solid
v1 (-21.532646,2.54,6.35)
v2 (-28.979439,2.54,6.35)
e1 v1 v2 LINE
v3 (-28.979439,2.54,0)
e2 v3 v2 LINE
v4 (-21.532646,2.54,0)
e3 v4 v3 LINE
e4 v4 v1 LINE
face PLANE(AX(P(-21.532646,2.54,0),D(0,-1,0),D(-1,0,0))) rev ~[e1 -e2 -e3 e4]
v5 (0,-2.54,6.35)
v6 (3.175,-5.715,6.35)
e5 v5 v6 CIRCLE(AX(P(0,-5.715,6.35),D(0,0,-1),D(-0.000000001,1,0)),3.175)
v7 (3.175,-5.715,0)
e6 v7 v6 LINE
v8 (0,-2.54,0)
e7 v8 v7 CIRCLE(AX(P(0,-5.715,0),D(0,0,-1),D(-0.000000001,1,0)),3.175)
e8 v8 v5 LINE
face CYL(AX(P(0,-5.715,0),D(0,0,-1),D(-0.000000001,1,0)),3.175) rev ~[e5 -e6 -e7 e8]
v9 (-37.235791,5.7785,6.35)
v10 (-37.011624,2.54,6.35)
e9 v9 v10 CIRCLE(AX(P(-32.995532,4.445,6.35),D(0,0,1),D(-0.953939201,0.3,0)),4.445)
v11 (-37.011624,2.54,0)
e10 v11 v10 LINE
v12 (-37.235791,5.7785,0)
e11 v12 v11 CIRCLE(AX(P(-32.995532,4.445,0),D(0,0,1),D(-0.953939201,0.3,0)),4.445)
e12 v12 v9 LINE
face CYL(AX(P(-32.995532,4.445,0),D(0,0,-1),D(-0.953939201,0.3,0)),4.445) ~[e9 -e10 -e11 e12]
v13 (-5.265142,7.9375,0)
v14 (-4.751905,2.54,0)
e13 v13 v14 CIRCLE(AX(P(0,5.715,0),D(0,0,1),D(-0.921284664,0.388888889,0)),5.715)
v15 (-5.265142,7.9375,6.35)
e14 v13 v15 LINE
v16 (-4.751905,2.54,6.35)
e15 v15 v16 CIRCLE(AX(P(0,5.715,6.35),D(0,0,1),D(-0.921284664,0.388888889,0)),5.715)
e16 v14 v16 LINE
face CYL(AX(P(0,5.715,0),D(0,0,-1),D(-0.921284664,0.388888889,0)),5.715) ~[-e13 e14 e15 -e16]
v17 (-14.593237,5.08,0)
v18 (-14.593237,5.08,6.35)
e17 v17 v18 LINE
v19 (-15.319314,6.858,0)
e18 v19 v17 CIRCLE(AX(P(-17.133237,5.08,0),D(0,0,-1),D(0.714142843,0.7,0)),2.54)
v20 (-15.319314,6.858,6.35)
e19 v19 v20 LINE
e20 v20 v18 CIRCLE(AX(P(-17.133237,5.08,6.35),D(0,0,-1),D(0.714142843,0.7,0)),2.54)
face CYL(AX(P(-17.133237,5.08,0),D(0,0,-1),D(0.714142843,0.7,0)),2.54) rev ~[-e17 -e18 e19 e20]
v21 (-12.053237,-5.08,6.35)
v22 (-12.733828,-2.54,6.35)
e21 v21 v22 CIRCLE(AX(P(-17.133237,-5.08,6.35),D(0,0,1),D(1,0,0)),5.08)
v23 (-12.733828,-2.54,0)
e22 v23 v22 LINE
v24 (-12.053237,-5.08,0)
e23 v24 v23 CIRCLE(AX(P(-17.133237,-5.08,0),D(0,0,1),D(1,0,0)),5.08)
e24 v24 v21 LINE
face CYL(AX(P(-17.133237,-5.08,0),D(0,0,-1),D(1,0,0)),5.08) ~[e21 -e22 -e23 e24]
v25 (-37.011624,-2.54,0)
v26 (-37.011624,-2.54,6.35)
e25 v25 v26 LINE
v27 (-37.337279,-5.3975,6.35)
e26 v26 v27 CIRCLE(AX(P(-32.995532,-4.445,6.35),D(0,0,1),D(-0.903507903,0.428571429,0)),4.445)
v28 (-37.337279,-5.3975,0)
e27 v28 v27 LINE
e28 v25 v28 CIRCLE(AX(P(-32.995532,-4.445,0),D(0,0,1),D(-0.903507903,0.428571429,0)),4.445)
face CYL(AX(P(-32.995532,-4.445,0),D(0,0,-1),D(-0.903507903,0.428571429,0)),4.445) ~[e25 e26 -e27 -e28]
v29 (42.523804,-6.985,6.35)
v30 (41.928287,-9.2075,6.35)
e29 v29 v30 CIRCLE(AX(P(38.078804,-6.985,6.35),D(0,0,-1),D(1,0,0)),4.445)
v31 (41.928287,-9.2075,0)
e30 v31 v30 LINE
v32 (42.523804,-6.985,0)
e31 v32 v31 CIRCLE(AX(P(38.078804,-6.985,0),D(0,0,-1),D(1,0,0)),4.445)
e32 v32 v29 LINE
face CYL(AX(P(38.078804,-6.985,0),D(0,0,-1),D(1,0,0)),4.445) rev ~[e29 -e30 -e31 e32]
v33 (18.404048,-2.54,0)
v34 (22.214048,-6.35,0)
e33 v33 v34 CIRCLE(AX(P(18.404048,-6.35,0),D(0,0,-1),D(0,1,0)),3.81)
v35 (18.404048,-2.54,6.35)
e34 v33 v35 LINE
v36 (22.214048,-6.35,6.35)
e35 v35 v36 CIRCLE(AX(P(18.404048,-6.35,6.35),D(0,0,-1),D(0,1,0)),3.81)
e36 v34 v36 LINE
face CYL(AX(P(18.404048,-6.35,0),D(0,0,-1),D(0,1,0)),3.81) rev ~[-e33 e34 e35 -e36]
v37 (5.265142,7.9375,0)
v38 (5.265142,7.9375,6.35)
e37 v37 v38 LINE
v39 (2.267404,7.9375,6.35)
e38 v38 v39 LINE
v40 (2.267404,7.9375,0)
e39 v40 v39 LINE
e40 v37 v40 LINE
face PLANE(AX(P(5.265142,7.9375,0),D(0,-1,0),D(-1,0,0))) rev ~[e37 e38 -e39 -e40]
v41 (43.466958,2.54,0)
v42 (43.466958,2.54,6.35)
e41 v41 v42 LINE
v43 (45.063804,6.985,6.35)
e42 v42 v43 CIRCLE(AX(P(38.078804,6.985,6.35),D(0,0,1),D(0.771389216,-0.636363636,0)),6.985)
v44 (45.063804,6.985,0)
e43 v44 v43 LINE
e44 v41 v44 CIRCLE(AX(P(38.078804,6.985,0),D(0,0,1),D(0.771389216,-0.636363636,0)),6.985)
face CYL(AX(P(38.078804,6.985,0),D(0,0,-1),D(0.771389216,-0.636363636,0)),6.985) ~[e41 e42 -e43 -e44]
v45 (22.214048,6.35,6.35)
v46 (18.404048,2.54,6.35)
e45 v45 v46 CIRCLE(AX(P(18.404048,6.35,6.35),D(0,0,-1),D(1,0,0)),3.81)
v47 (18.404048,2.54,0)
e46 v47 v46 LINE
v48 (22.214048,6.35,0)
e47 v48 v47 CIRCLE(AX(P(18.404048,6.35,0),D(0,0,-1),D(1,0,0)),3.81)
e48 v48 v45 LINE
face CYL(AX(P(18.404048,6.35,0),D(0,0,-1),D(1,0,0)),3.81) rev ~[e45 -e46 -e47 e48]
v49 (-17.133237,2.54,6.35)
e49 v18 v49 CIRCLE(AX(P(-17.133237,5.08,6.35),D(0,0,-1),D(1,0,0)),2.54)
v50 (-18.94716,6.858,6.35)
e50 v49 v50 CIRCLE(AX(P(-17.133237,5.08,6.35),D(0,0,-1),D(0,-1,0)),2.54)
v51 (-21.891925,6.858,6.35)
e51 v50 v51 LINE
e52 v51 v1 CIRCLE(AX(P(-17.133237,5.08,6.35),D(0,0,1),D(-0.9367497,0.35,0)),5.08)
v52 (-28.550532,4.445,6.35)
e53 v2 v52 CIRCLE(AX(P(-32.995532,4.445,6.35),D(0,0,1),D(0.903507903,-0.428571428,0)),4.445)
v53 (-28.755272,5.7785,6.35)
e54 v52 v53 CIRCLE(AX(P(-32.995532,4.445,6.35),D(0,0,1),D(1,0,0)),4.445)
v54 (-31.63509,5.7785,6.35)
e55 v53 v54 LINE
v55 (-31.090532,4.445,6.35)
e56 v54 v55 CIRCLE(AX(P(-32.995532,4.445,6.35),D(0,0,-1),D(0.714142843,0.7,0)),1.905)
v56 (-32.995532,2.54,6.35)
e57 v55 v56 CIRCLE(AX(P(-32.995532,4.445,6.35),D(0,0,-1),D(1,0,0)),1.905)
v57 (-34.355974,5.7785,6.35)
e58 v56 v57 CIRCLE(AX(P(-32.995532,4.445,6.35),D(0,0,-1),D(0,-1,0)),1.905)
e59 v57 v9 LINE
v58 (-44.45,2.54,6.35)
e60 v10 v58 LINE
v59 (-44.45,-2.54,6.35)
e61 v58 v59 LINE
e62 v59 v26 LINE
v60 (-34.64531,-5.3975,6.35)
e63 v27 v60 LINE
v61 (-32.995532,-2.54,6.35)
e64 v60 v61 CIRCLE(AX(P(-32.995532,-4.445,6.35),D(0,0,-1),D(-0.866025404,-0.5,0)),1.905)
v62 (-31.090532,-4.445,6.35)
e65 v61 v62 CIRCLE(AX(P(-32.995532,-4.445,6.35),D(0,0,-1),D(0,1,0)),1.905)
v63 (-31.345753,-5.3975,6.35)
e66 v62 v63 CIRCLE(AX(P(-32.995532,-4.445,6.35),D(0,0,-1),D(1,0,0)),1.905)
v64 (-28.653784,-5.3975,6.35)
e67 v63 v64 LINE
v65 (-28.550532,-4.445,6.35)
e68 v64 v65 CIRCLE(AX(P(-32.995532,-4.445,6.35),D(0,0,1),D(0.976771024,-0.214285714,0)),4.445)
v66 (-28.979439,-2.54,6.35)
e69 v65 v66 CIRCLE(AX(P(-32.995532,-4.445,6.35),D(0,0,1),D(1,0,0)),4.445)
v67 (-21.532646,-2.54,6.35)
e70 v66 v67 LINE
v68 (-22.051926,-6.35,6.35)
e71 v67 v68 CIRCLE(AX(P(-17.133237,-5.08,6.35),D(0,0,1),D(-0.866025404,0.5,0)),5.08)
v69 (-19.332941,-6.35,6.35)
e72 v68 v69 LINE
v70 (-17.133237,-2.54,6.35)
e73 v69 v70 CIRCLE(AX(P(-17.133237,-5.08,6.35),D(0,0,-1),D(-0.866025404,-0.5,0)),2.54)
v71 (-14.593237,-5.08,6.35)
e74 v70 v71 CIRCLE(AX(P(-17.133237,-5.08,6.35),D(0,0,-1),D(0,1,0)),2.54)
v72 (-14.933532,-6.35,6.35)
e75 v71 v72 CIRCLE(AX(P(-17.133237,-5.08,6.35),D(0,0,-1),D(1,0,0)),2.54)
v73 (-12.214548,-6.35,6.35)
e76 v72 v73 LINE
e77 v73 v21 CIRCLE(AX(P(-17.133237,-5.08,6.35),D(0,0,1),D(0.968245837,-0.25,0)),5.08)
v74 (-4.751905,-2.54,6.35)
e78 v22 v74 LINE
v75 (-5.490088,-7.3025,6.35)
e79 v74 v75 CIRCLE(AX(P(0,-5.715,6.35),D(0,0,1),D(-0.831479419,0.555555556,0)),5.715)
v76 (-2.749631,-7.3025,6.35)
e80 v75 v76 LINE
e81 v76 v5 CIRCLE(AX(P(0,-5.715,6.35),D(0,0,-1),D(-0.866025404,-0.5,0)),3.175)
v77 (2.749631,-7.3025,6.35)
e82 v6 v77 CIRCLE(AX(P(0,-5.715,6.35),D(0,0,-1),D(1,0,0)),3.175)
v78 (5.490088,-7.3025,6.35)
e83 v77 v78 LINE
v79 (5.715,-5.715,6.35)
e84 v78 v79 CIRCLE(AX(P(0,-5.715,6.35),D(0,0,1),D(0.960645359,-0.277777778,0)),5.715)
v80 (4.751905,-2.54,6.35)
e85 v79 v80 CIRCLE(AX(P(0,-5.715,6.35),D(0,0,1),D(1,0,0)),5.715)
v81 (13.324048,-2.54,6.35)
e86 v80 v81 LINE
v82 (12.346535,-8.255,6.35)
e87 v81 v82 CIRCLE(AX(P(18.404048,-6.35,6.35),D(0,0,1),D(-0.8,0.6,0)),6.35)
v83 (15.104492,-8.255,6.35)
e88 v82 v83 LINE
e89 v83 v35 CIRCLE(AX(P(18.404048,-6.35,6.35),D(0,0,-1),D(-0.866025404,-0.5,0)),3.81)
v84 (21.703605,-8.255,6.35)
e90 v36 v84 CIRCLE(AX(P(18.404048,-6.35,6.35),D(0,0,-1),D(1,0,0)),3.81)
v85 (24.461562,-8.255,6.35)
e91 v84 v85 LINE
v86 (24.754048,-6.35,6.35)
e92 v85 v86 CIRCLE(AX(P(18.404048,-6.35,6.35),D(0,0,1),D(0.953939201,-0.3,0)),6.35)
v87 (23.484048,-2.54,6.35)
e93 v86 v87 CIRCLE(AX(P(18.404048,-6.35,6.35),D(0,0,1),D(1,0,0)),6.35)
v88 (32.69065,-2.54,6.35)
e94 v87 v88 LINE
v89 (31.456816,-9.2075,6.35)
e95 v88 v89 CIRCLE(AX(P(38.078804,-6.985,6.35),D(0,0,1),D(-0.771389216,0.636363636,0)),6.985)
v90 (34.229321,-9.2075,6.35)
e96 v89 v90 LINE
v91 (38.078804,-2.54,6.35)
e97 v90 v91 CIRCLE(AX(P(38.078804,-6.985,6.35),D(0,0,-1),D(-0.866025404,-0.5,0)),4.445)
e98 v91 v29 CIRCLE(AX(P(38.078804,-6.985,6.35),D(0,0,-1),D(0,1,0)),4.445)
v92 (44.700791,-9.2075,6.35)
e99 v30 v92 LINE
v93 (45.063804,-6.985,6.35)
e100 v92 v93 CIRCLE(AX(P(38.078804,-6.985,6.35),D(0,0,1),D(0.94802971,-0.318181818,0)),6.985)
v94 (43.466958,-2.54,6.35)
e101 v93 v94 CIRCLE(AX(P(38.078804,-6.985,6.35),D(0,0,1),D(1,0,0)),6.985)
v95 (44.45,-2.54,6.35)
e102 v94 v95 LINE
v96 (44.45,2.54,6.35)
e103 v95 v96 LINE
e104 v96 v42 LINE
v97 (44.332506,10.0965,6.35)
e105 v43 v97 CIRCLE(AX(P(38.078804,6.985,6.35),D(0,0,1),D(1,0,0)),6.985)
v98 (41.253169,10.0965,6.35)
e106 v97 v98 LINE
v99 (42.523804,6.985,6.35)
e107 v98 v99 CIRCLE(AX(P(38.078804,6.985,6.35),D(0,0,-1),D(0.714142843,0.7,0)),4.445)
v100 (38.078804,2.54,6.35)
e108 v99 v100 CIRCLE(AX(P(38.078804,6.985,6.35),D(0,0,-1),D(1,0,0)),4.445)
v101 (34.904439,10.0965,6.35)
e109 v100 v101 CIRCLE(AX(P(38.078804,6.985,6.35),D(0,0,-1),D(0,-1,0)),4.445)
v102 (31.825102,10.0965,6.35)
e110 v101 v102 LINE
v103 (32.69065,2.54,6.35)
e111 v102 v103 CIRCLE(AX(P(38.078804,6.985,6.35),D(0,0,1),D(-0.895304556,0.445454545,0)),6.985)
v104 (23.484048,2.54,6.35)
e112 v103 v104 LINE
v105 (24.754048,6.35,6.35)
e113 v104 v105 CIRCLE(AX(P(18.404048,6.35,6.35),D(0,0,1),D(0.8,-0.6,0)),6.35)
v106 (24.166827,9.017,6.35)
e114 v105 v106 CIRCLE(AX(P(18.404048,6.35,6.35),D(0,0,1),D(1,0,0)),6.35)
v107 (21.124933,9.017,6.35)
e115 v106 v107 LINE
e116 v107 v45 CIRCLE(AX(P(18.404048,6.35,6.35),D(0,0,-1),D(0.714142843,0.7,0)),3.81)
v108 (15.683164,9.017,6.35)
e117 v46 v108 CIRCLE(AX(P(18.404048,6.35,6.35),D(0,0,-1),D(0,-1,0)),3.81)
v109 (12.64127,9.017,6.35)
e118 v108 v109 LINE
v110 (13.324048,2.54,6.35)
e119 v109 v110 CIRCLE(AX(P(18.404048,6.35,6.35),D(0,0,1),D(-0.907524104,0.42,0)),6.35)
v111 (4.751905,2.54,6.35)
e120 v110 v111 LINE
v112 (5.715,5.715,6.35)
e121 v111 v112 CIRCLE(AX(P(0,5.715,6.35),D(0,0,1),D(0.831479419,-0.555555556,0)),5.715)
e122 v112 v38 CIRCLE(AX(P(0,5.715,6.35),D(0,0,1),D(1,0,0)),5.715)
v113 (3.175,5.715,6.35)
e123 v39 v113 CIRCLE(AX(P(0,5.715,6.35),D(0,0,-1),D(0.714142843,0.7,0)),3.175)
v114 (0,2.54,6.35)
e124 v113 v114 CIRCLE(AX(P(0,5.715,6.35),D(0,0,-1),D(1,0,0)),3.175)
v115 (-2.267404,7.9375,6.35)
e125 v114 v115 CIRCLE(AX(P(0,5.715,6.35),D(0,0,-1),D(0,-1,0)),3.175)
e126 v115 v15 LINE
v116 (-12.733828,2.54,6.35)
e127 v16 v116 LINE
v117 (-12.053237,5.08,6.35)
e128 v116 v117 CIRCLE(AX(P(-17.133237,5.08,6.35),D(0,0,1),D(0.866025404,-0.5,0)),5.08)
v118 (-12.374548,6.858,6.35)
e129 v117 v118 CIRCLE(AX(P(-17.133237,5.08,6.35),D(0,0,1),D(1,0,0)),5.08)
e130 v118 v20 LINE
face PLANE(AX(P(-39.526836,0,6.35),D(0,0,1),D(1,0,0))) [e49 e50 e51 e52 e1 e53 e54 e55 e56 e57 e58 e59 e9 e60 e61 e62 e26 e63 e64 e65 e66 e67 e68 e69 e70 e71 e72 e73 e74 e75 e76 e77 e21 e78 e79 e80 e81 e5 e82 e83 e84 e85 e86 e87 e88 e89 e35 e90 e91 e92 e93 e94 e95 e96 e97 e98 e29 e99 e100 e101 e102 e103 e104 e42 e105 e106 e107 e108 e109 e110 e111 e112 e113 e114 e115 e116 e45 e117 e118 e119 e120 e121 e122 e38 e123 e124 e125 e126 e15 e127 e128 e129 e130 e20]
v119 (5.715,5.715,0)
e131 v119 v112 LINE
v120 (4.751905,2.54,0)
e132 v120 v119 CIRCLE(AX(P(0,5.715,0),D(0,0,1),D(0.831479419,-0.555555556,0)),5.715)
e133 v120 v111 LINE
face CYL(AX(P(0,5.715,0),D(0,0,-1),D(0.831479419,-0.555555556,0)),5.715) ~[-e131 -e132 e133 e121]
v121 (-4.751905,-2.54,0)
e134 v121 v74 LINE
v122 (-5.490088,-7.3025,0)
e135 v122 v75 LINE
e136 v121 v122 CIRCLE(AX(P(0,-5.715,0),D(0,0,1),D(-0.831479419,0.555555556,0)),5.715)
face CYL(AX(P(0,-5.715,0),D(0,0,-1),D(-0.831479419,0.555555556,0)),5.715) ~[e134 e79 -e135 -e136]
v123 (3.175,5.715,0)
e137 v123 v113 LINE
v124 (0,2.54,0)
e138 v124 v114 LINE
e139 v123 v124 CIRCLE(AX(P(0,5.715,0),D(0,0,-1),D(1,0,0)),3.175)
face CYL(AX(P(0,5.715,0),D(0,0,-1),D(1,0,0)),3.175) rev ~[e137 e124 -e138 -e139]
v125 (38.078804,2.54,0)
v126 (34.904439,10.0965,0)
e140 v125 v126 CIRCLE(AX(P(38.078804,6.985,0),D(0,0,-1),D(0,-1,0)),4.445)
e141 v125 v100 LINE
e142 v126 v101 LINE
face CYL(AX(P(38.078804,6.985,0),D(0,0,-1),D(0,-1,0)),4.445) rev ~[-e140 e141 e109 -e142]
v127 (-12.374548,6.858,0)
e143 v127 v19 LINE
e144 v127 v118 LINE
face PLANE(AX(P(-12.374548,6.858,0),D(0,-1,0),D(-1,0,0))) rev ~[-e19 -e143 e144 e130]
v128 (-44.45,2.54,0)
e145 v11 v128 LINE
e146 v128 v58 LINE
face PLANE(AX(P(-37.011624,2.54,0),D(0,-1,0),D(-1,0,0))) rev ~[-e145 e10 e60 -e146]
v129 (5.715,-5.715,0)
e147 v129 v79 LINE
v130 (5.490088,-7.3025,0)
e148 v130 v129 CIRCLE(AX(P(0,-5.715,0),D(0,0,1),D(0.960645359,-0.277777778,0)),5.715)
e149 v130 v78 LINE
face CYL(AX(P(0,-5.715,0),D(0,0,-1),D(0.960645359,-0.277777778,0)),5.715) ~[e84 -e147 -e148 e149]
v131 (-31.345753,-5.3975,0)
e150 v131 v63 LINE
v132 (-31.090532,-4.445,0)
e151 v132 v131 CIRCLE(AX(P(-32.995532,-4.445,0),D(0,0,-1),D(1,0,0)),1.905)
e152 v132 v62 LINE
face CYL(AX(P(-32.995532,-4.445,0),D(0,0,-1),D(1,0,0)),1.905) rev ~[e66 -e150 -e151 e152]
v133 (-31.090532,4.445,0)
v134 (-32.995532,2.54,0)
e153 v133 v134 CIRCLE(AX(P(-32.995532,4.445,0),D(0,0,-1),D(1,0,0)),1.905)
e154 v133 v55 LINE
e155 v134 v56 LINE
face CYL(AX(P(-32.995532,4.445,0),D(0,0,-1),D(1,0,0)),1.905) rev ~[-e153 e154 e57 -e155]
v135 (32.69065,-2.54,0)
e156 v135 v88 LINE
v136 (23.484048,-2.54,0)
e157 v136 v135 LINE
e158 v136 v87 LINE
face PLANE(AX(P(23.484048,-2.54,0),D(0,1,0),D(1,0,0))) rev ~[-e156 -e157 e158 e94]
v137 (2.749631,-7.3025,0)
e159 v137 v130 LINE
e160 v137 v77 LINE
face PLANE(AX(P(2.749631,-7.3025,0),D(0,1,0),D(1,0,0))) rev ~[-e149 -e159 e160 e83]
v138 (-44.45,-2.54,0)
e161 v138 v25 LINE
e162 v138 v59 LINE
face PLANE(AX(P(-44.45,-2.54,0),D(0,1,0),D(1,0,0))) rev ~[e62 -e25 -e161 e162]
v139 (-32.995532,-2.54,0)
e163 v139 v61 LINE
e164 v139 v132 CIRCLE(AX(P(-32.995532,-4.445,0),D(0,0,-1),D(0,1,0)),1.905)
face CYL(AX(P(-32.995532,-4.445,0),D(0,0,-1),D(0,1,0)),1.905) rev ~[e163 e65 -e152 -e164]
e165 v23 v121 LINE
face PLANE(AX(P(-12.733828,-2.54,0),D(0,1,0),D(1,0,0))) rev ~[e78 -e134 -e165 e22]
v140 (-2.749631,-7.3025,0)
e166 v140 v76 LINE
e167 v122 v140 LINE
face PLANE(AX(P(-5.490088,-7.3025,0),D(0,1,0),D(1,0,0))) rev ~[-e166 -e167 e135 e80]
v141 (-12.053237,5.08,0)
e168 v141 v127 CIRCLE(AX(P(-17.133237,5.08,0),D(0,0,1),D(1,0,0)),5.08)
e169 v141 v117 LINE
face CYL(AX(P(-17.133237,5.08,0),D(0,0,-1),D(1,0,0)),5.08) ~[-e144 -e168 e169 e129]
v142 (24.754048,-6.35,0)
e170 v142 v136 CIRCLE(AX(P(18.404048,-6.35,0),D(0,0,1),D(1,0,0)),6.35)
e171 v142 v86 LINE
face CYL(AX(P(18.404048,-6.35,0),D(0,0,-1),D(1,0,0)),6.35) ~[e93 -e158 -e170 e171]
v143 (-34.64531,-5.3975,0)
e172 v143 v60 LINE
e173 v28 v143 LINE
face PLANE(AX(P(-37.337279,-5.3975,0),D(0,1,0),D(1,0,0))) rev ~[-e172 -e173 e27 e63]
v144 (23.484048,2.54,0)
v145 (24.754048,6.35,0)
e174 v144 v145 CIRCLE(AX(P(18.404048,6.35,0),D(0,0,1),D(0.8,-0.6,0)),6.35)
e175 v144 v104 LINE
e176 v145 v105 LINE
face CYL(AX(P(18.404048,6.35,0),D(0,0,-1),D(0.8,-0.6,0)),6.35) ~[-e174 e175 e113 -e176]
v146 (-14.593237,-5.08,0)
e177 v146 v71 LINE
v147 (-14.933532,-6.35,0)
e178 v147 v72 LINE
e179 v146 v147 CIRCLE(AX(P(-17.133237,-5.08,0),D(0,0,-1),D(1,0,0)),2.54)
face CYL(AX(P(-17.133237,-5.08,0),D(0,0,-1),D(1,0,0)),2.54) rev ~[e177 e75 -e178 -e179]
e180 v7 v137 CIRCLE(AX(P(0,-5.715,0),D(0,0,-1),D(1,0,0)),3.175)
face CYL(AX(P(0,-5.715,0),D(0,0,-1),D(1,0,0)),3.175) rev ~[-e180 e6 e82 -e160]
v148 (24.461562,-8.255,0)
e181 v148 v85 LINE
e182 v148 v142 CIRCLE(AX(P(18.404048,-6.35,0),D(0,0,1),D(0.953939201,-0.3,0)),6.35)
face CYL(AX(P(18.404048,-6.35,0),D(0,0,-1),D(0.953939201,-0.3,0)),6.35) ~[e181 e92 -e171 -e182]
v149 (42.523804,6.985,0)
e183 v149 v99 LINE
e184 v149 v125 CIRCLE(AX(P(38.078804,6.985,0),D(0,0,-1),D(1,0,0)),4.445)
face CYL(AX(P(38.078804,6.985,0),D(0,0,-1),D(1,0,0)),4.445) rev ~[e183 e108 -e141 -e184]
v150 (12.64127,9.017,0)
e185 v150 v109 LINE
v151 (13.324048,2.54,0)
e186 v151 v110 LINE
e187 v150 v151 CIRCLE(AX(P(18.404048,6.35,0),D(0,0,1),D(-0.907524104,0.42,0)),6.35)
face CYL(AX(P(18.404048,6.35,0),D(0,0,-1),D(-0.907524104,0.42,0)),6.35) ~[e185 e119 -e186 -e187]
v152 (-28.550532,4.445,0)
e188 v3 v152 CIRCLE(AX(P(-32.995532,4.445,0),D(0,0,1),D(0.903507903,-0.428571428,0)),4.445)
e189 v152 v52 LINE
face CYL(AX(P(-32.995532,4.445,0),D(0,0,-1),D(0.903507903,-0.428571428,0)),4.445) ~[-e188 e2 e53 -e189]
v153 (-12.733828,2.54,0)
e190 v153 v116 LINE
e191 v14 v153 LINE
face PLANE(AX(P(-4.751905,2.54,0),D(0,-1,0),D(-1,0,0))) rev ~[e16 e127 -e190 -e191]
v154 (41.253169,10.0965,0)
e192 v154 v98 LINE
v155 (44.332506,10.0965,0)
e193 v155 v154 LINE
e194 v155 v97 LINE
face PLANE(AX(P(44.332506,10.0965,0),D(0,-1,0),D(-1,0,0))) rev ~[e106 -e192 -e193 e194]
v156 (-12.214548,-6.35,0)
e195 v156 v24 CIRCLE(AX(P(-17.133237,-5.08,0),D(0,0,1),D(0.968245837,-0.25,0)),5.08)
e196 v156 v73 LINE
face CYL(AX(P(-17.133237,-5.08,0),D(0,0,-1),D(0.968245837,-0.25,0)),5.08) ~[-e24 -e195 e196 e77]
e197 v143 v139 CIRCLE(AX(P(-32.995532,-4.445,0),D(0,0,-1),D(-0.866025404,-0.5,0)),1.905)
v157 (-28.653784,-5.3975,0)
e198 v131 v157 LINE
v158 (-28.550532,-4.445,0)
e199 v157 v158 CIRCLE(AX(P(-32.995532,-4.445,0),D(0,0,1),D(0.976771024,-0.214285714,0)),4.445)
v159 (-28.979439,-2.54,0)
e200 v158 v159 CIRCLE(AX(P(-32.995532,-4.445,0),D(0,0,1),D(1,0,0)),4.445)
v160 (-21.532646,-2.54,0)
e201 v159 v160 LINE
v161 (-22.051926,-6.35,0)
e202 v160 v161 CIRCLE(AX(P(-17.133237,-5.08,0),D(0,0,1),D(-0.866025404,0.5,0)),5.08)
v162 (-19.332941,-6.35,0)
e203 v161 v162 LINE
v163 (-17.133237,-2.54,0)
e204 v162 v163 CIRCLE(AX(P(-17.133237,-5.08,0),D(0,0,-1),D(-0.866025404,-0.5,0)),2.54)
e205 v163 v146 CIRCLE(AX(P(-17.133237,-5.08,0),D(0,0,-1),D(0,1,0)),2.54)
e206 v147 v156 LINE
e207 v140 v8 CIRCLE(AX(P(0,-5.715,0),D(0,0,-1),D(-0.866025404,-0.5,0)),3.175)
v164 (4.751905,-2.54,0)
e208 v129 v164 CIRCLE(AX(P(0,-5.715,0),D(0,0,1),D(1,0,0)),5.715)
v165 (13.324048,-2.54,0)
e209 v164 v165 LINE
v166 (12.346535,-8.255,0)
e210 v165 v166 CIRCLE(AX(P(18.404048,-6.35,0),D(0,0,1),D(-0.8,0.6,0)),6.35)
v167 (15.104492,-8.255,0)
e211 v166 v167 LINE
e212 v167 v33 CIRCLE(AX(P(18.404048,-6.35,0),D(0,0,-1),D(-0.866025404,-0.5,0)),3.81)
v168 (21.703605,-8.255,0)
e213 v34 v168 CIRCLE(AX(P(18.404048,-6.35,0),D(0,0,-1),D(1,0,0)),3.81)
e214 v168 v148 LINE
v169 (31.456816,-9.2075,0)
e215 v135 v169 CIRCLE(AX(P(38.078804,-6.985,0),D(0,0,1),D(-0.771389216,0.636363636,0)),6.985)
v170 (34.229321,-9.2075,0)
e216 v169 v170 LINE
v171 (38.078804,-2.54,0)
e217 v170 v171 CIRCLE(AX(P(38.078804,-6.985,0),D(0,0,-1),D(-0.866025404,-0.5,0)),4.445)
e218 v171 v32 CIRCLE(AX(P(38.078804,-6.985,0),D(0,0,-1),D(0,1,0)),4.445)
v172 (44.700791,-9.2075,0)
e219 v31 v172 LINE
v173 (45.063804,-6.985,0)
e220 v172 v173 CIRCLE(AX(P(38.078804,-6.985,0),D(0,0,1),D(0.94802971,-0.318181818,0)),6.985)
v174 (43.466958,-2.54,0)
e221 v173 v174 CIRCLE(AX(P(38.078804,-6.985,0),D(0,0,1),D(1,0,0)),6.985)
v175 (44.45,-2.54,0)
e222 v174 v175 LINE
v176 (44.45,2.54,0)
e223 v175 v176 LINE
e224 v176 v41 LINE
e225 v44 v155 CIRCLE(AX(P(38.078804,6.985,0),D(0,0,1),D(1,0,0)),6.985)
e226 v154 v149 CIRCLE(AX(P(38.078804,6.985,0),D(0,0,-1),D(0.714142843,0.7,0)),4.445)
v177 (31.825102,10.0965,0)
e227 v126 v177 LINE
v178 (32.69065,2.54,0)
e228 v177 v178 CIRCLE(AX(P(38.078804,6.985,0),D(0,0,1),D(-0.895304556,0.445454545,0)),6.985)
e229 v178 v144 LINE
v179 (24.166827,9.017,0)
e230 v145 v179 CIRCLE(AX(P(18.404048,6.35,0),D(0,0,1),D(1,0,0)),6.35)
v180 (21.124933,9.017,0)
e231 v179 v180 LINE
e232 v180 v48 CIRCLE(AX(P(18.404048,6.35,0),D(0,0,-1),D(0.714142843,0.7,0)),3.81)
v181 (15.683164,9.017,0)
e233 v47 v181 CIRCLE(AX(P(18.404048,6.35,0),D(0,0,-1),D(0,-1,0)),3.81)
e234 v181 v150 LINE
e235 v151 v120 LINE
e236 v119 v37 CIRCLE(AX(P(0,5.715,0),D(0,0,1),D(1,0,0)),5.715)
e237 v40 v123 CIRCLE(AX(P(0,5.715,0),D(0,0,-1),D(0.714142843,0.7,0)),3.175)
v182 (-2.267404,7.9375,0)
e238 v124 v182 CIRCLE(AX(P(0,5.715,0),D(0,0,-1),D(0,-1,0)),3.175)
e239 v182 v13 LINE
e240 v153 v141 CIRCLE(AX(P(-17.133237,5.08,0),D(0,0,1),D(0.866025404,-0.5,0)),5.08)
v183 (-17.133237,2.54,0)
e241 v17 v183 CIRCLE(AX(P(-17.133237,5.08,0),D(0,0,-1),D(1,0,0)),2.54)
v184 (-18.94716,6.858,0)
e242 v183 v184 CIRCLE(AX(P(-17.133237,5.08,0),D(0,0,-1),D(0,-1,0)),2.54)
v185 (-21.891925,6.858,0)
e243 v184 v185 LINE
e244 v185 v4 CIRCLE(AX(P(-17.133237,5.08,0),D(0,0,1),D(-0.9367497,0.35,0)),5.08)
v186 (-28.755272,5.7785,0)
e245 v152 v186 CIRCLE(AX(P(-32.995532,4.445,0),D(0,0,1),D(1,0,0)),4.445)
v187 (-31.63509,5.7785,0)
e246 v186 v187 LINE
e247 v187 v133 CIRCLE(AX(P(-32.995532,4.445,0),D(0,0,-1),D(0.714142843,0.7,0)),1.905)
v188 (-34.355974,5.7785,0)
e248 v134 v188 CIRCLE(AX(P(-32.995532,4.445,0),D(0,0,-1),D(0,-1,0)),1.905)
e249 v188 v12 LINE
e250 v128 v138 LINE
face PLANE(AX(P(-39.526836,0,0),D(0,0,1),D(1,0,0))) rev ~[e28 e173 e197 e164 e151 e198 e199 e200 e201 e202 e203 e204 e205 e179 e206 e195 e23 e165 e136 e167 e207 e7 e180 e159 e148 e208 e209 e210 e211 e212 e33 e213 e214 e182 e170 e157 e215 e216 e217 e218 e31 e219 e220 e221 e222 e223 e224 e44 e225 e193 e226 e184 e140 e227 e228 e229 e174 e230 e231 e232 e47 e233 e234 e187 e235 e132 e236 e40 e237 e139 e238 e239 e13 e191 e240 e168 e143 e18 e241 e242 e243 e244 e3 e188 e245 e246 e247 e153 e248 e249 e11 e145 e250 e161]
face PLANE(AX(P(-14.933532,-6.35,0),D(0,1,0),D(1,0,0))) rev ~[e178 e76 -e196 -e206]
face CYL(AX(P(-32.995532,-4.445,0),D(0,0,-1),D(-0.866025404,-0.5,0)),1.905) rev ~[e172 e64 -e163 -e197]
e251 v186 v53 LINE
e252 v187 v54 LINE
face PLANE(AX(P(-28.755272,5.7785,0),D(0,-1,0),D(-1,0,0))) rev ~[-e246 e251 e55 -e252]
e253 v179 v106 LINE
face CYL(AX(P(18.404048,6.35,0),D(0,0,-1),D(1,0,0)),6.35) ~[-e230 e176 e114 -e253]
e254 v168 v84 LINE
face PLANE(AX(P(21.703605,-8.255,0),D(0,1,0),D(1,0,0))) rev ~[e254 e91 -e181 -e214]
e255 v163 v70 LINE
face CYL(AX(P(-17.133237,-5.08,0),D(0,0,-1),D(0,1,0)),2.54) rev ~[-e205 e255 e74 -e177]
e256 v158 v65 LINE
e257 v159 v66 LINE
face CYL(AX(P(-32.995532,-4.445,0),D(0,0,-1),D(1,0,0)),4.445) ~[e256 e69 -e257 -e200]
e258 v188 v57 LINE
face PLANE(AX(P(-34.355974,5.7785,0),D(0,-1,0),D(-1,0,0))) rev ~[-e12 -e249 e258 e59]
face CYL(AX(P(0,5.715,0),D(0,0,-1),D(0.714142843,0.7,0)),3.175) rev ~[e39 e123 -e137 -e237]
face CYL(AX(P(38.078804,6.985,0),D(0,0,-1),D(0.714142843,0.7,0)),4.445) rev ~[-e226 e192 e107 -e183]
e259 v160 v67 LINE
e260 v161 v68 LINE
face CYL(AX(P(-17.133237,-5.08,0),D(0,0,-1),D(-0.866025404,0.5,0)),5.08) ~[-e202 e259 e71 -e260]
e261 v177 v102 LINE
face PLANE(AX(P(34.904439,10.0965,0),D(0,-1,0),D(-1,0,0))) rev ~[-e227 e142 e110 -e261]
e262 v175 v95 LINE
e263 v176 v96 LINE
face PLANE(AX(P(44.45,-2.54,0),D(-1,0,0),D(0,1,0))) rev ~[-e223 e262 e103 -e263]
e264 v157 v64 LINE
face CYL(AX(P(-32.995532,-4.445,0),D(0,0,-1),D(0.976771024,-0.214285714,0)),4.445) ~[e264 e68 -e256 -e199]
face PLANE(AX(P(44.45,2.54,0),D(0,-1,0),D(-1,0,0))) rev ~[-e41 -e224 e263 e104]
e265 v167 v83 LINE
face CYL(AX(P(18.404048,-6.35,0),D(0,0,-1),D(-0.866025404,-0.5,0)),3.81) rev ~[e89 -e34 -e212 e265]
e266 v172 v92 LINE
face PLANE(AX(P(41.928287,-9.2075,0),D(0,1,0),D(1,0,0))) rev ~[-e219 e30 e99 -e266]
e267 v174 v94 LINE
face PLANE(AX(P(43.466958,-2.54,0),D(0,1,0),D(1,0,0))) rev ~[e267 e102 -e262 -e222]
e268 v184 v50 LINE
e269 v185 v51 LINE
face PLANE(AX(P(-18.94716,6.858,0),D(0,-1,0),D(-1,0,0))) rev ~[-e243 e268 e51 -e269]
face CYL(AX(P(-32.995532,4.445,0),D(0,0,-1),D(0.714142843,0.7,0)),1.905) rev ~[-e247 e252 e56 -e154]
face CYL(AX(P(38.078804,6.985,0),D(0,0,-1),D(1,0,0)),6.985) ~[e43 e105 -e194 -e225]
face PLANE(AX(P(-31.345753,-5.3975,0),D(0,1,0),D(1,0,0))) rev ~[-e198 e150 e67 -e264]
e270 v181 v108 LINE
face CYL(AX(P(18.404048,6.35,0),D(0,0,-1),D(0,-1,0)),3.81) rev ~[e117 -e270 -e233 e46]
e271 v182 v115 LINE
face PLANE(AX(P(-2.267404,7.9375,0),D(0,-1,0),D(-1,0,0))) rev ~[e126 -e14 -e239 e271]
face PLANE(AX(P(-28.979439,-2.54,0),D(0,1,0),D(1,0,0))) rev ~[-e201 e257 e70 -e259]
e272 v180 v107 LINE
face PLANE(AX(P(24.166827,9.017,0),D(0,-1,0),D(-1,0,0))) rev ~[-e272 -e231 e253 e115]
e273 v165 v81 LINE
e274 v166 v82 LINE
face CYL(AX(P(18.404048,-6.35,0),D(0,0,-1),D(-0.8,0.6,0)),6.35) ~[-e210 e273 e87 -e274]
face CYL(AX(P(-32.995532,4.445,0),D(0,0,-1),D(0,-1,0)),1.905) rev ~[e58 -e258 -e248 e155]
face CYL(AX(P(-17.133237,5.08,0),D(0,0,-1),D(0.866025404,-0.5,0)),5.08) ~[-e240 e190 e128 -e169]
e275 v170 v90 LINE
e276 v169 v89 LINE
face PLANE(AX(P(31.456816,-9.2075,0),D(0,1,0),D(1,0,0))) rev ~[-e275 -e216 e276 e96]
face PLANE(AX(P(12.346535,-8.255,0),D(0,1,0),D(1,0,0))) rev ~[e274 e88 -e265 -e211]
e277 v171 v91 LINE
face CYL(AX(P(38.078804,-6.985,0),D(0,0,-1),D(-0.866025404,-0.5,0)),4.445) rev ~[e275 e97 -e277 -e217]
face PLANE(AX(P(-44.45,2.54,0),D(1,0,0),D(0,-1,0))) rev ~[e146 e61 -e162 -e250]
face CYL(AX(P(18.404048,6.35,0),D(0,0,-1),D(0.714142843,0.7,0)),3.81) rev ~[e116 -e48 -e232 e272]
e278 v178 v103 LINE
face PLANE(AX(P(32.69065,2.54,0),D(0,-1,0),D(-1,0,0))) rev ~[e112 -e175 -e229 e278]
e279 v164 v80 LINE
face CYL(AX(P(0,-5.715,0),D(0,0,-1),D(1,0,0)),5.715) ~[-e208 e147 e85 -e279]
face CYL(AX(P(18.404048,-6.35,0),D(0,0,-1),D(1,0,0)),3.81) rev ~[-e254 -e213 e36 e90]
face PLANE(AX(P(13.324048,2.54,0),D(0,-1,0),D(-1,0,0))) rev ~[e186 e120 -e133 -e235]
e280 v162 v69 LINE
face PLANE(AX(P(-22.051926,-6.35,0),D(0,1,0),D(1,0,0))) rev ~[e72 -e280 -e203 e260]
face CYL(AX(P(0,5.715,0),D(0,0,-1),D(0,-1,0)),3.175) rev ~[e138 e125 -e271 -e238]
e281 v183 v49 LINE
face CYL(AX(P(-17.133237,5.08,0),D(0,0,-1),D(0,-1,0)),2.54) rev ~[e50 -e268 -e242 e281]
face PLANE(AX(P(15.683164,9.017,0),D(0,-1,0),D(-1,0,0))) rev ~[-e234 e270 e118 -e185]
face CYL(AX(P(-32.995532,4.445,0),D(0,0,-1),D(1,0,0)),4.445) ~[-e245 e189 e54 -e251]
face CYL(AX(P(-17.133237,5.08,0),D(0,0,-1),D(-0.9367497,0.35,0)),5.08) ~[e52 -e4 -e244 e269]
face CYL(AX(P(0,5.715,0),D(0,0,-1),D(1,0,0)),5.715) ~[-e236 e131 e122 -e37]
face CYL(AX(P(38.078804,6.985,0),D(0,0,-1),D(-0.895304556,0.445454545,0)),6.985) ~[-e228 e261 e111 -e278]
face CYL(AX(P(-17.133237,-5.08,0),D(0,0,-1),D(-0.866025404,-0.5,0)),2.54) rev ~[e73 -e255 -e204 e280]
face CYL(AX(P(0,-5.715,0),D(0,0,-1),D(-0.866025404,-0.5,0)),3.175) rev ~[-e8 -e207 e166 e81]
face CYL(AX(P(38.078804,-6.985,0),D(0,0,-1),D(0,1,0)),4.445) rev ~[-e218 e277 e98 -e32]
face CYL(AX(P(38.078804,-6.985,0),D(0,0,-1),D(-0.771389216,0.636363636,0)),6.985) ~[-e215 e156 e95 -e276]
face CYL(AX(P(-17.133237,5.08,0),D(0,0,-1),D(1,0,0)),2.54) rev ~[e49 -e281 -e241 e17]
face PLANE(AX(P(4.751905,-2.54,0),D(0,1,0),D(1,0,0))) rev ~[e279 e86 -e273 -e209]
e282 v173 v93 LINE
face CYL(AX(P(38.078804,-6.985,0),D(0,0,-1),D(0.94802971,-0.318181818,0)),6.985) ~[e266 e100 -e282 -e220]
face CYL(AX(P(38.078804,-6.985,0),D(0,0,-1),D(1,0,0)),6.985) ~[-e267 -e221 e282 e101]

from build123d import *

# Parameters (mm, degrees)
F1_DEPTH = 6.35


with BuildPart() as f1:
    # F0 (on Top) → F1 (new body)
    with BuildSketch(Plane.XY):
        with BuildLine():
            ThreePointArc((-37.0116242497, -2.54), (-35.3714840618, -0.6882893377), (-32.9955316212, 0))
            ThreePointArc((-32.9955316212, 0), (-35.3714840618, 0.6882893377), (-37.0116242497, 2.54))
            Line((-37.0116242497, 2.54), (-44.45, 2.54))
            Line((-44.45, 2.54), (-44.45, -2.54))
            Line((-44.45, -2.54), (-37.0116242497, -2.54))
        make_face()
        with BuildLine():
            Line((-32.9955316212, 2.54), (-28.9794389928, 2.54))
            ThreePointArc((-28.9794389928, 2.54), (-28.6590839545, 3.4686564983), (-28.5505316212, 4.445))
            ThreePointArc((-28.5505316212, 4.445), (-28.60201483, 5.1195629733), (-28.7552718709, 5.7785))
            Line((-28.7552718709, 5.7785), (-31.6350895056, 5.7785))
            ThreePointArc((-31.6350895056, 5.7785), (-31.231917827, 5.1652023222), (-31.0905316212, 4.445))
            ThreePointArc((-31.0905316212, 4.445), (-31.6484932031, 3.0979615818), (-32.9955316212, 2.54))
        make_face()
        with BuildLine():
            Line((-37.0116242497, 2.54), (-32.9955316212, 2.54))
            ThreePointArc((-32.9955316212, 2.54), (-34.7518548404, 3.7071966725), (-34.3559737369, 5.7785))
            Line((-34.3559737369, 5.7785), (-37.2357913715, 5.7785))
            ThreePointArc((-37.2357913715, 5.7785), (-37.4299210057, 4.1380540974), (-37.0116242497, 2.54))
        make_face()
        with BuildLine():
            ThreePointArc((-32.9955316212, 0), (-30.6195791806, 0.6882893377), (-28.9794389928, 2.54))
            Line((-28.9794389928, 2.54), (-32.9955316212, 2.54))
            Line((-32.9955316212, 2.54), (-37.0116242497, 2.54))
            ThreePointArc((-37.0116242497, 2.54), (-35.3714840618, 0.6882893377), (-32.9955316212, 0))
        make_face()
        with BuildLine():
            Line((-32.9955316212, -2.54), (-28.9794389928, -2.54))
            ThreePointArc((-28.9794389928, -2.54), (-30.6195791806, -0.6882893377), (-32.9955316212, 0))
            ThreePointArc((-32.9955316212, 0), (-35.3714840618, -0.6882893377), (-37.0116242497, -2.54))
            Line((-37.0116242497, -2.54), (-32.9955316212, -2.54))
        make_face()
        with BuildLine():
            ThreePointArc((-34.6453100154, -5.3975), (-34.6453100154, -3.4925), (-32.9955316212, -2.54))
            Line((-32.9955316212, -2.54), (-37.0116242497, -2.54))
            ThreePointArc((-37.0116242497, -2.54), (-37.4119439902, -3.941684207), (-37.3372788214, -5.3975))
            Line((-37.3372788214, -5.3975), (-34.6453100154, -5.3975))
        make_face()
        with BuildLine():
            ThreePointArc((-28.5505316212, -4.445), (-28.6590839545, -3.4686564983), (-28.9794389928, -2.54))
            Line((-28.9794389928, -2.54), (-32.9955316212, -2.54))
            ThreePointArc((-32.9955316212, -2.54), (-31.6484932031, -3.0979615818), (-31.0905316212, -4.445))
            ThreePointArc((-31.0905316212, -4.445), (-31.1554429222, -4.9380502809), (-31.345753227, -5.3975))
            Line((-31.345753227, -5.3975), (-28.6537844211, -5.3975))
            ThreePointArc((-28.6537844211, -5.3975), (-28.5764202114, -4.9240400272), (-28.5505316212, -4.445))
        make_face()
        with BuildLine():
            ThreePointArc((-21.5326457565, -2.54), (-19.6732367053, -0.6805909488), (-17.1332367053, 0))
            ThreePointArc((-17.1332367053, 0), (-19.6732367053, 0.6805909488), (-21.5326457565, 2.54))
            Line((-21.5326457565, 2.54), (-28.9794389928, 2.54))
            ThreePointArc((-28.9794389928, 2.54), (-30.6195791806, 0.6882893377), (-32.9955316212, 0))
            ThreePointArc((-32.9955316212, 0), (-30.6195791806, -0.6882893377), (-28.9794389928, -2.54))
            Line((-28.9794389928, -2.54), (-21.5326457565, -2.54))
        make_face()
        with BuildLine():
            ThreePointArc((-19.3329412309, -6.35), (-19.3329412309, -3.81), (-17.1332367053, -2.54))
            Line((-17.1332367053, -2.54), (-21.5326457565, -2.54))
            ThreePointArc((-21.5326457565, -2.54), (-22.1667009321, -4.3939694779), (-22.051925555, -6.35))
            Line((-22.051925555, -6.35), (-19.3329412309, -6.35))
        make_face()
        with BuildLine():
            ThreePointArc((-12.0532367053, -5.08), (-12.2263335078, -3.7651992509), (-12.7338276541, -2.54))
            Line((-12.7338276541, -2.54), (-17.1332367053, -2.54))
            ThreePointArc((-17.1332367053, -2.54), (-15.3371854811, -3.2839487758), (-14.5932367053, -5.08))
            ThreePointArc((-14.5932367053, -5.08), (-14.6797851065, -5.7374003746), (-14.9335321797, -6.35))
            Line((-14.9335321797, -6.35), (-12.2145478556, -6.35))
            ThreePointArc((-12.2145478556, -6.35), (-12.0937258483, -5.7201018058), (-12.0532367053, -5.08))
        make_face()
        with BuildLine():
            Line((-17.1332367053, -2.54), (-12.7338276541, -2.54))
            ThreePointArc((-12.7338276541, -2.54), (-14.5932367053, -0.6805909488), (-17.1332367053, 0))
            ThreePointArc((-17.1332367053, 0), (-19.6732367053, -0.6805909488), (-21.5326457565, -2.54))
            Line((-21.5326457565, -2.54), (-17.1332367053, -2.54))
        make_face()
        with BuildLine():
            Line((-21.5326457565, 2.54), (-17.1332367053, 2.54))
            ThreePointArc((-17.1332367053, 2.54), (-19.4750009975, 4.0962622301), (-18.9471595262, 6.858))
            Line((-18.9471595262, 6.858), (-21.8919251801, 6.858))
            ThreePointArc((-21.8919251801, 6.858), (-22.1957428608, 4.6587739015), (-21.5326457565, 2.54))
        make_face()
        with BuildLine():
            ThreePointArc((-17.1332367053, 0), (-14.5932367053, 0.6805909488), (-12.7338276541, 2.54))
            Line((-12.7338276541, 2.54), (-17.1332367053, 2.54))
            Line((-17.1332367053, 2.54), (-21.5326457565, 2.54))
            ThreePointArc((-21.5326457565, 2.54), (-19.6732367053, 0.6805909488), (-17.1332367053, 0))
        make_face()
        with BuildLine():
            Line((-17.1332367053, 2.54), (-12.7338276541, 2.54))
            ThreePointArc((-12.7338276541, 2.54), (-12.2263335078, 3.7651992509), (-12.0532367053, 5.08))
            ThreePointArc((-12.0532367053, 5.08), (-12.1342099274, 5.9833998417), (-12.3745482305, 6.858))
            Line((-12.3745482305, 6.858), (-15.3193138845, 6.858))
            ThreePointArc((-15.3193138845, 6.858), (-14.7817516464, 6.0402697629), (-14.5932367053, 5.08))
            ThreePointArc((-14.5932367053, 5.08), (-15.3371854811, 3.2839487758), (-17.1332367053, 2.54))
        make_face()
        with BuildLine():
            ThreePointArc((-4.7519048812, -2.54), (-2.6940768363, -0.6748437524), (0, 0))
            ThreePointArc((0, 0), (-2.6940768363, 0.6748437524), (-4.7519048812, 2.54))
            Line((-4.7519048812, 2.54), (-12.7338276541, 2.54))
            ThreePointArc((-12.7338276541, 2.54), (-14.5932367053, 0.6805909488), (-17.1332367053, 0))
            ThreePointArc((-17.1332367053, 0), (-14.5932367053, -0.6805909488), (-12.7338276541, -2.54))
            Line((-12.7338276541, -2.54), (-4.7519048812, -2.54))
        make_face()
        with BuildLine():
            Line((-4.7519048812, 2.54), (0, 2.54))
            ThreePointArc((0, 2.54), (-2.9272053652, 4.4853277876), (-2.2674035261, 7.9375))
            Line((-2.2674035261, 7.9375), (-5.2651418547, 7.9375))
            ThreePointArc((-5.2651418547, 7.9375), (-5.6893372101, 5.1740128373), (-4.7519048812, 2.54))
        make_face()
        with BuildLine():
            ThreePointArc((0, 0), (2.6940768363, 0.6748437524), (4.7519048812, 2.54))
            Line((4.7519048812, 2.54), (0, 2.54))
            Line((0, 2.54), (-4.7519048812, 2.54))
            ThreePointArc((-4.7519048812, 2.54), (-2.6940768363, 0.6748437524), (0, 0))
        make_face()
        with BuildLine():
            Line((0, 2.54), (4.7519048812, 2.54))
            ThreePointArc((4.7519048812, 2.54), (5.4689286609, 4.0560713391), (5.715, 5.715))
            ThreePointArc((5.715, 5.715), (5.601406551, 6.8487855398), (5.2651418547, 7.9375))
            Line((5.2651418547, 7.9375), (2.2674035261, 7.9375))
            ThreePointArc((2.2674035261, 7.9375), (2.9393563237, 6.9153372036), (3.175, 5.715))
            ThreePointArc((3.175, 5.715), (2.2450640303, 3.4699359697), (0, 2.54))
        make_face()
        with BuildLine():
            ThreePointArc((-2.749630657, -7.3025), (-2.7496306576, -4.127500001), (-2.2e-09, -2.54))
            Line((-2.2e-09, -2.54), (-4.7519048812, -2.54))
            ThreePointArc((-4.7519048812, -2.54), (-5.6475620647, -4.8396328051), (-5.4900882279, -7.3025))
            Line((-5.4900882279, -7.3025), (-2.749630657, -7.3025))
        make_face()
        with BuildLine():
            Line((-2.2e-09, -2.54), (4.7519048812, -2.54))
            ThreePointArc((4.7519048812, -2.54), (2.6940768363, -0.6748437524), (0, 0))
            ThreePointArc((0, 0), (-2.6940768363, -0.6748437524), (-4.7519048812, -2.54))
            Line((-4.7519048812, -2.54), (-2.2e-09, -2.54))
        make_face()
        with BuildLine():
            ThreePointArc((5.715, -5.715), (5.4689286609, -4.0560713391), (4.7519048812, -2.54))
            Line((4.7519048812, -2.54), (-2.2e-09, -2.54))
            ThreePointArc((-2.2e-09, -2.54), (2.2450640295, -3.469935969), (3.175, -5.715))
            ThreePointArc((3.175, -5.715), (3.0668144985, -6.5367504682), (2.749630657, -7.3025))
            Line((2.749630657, -7.3025), (5.4900882279, -7.3025))
            ThreePointArc((5.4900882279, -7.3025), (5.6584926978, -6.5166766111), (5.715, -5.715))
        make_face()
        with BuildLine():
            Line((13.3240484677, 2.54), (18.4040484677, 2.54))
            ThreePointArc((18.4040484677, 2.54), (14.8914020294, 4.8743933451), (15.6831642364, 9.017))
            Line((15.6831642364, 9.017), (12.641270405, 9.017))
            ThreePointArc((12.641270405, 9.017), (12.0890392611, 5.6842983245), (13.3240484677, 2.54))
        make_face()
        with BuildLine():
            ThreePointArc((18.4040484677, 0), (21.2438547991, 0.6703873372), (23.4840484677, 2.54))
            Line((23.4840484677, 2.54), (18.4040484677, 2.54))
            Line((18.4040484677, 2.54), (13.3240484677, 2.54))
            ThreePointArc((13.3240484677, 2.54), (15.5642421362, 0.6703873372), (18.4040484677, 0))
        make_face()
        with BuildLine():
            Line((18.4040484677, 2.54), (23.4840484677, 2.54))
            ThreePointArc((23.4840484677, 2.54), (24.4281874103, 4.3419536858), (24.7540484677, 6.35))
            ThreePointArc((24.7540484677, 6.35), (24.6055055827, 7.7154411928), (24.1668265304, 9.017))
            Line((24.1668265304, 9.017), (21.1249326989, 9.017))
            ThreePointArc((21.1249326989, 9.017), (21.9312760561, 7.7904046443), (22.2140484677, 6.35))
            ThreePointArc((22.2140484677, 6.35), (21.098125304, 3.6559231637), (18.4040484677, 2.54))
        make_face()
        with BuildLine():
            ThreePointArc((15.1044916792, -8.255), (15.1044916792, -4.445), (18.4040484677, -2.54))
            Line((18.4040484677, -2.54), (13.3240484677, -2.54))
            ThreePointArc((13.3240484677, -2.54), (12.1449462653, -5.2794208949), (12.3465345387, -8.255))
            Line((12.3465345387, -8.255), (15.1044916792, -8.255))
        make_face()
        with BuildLine():
            Line((18.4040484677, -2.54), (23.4840484677, -2.54))
            ThreePointArc((23.4840484677, -2.54), (21.2438547991, -0.6703873372), (18.4040484677, 0))
            ThreePointArc((18.4040484677, 0), (15.5642421362, -0.6703873372), (13.3240484677, -2.54))
            Line((13.3240484677, -2.54), (18.4040484677, -2.54))
        make_face()
        with BuildLine():
            ThreePointArc((24.7540484677, -6.35), (24.4281874103, -4.3419536858), (23.4840484677, -2.54))
            Line((23.4840484677, -2.54), (18.4040484677, -2.54))
            ThreePointArc((18.4040484677, -2.54), (21.098125304, -3.6559231637), (22.2140484677, -6.35))
            ThreePointArc((22.2140484677, -6.35), (22.0842258658, -7.3361005618), (21.7036052561, -8.255))
            Line((21.7036052561, -8.255), (24.4615623967, -8.255))
            ThreePointArc((24.4615623967, -8.255), (24.6805010266, -7.3136613904), (24.7540484677, -6.35))
        make_face()
        with BuildLine():
            ThreePointArc((32.6906501938, -2.54), (35.1003898589, -0.6668297744), (38.0788038664, 0))
            ThreePointArc((38.0788038664, 0), (35.1003898589, 0.6668297744), (32.6906501938, 2.54))
            Line((32.6906501938, 2.54), (23.4840484677, 2.54))
            ThreePointArc((23.4840484677, 2.54), (21.2438547991, 0.6703873372), (18.4040484677, 0))
            ThreePointArc((18.4040484677, 0), (21.2438547991, -0.6703873372), (23.4840484677, -2.54))
            Line((23.4840484677, -2.54), (32.6906501938, -2.54))
        make_face()
        with BuildLine():
            Line((32.6906501938, 2.54), (38.0788038664, 2.54))
            ThreePointArc((38.0788038664, 2.54), (33.9807163551, 5.2634589026), (34.9044389299, 10.0965))
            Line((34.9044389299, 10.0965), (31.825101543, 10.0965))
            ThreePointArc((31.825101543, 10.0965), (31.1391802584, 6.1901105868), (32.6906501938, 2.54))
        make_face()
        with BuildLine():
            ThreePointArc((38.0788038664, 0), (41.0572178739, 0.6668297744), (43.466957539, 2.54))
            Line((43.466957539, 2.54), (38.0788038664, 2.54))
            Line((38.0788038664, 2.54), (32.6906501938, 2.54))
            ThreePointArc((32.6906501938, 2.54), (35.1003898589, 0.6668297744), (38.0788038664, 0))
        make_face()
        with BuildLine():
            Line((38.0788038664, 2.54), (43.466957539, 2.54))
            ThreePointArc((43.466957539, 2.54), (44.6524816195, 4.6234357306), (45.0638038664, 6.985))
            ThreePointArc((45.0638038664, 6.985), (44.8785220859, 8.5831417758), (44.3325061898, 10.0965))
            Line((44.3325061898, 10.0965), (41.2531688029, 10.0965))
            ThreePointArc((41.2531688029, 10.0965), (42.1939027196, 8.6654720851), (42.5238038664, 6.985))
            ThreePointArc((42.5238038664, 6.985), (41.2218935088, 3.8419103576), (38.0788038664, 2.54))
        make_face()
        with BuildLine():
            ThreePointArc((43.466957539, -2.54), (41.0572178739, -0.6668297744), (38.0788038664, 0))
            ThreePointArc((38.0788038664, 0), (35.1003898589, -0.6668297744), (32.6906501938, -2.54))
            Line((32.6906501938, -2.54), (38.0788038664, -2.54))
            Line((38.0788038664, -2.54), (43.466957539, -2.54))
        make_face()
        with BuildLine():
            Line((38.0788038664, -2.54), (32.6906501938, -2.54))
            ThreePointArc((32.6906501938, -2.54), (31.2104152675, -5.7139913238), (31.4568163438, -9.2075))
            Line((31.4568163438, -9.2075), (34.2293209466, -9.2075))
            ThreePointArc((34.2293209466, -9.2075), (34.2293209466, -4.7625), (38.0788038664, -2.54))
        make_face()
        with BuildLine():
            ThreePointArc((45.0638038664, -6.985), (44.6524816195, -4.6234357306), (43.466957539, -2.54))
            Line((43.466957539, -2.54), (38.0788038664, -2.54))
            ThreePointArc((38.0788038664, -2.54), (41.2218935088, -3.8419103576), (42.5238038664, -6.985))
            ThreePointArc((42.5238038664, -6.985), (42.3723441642, -8.1354506555), (41.9282867862, -9.2075))
            Line((41.9282867862, -9.2075), (44.700791389, -9.2075))
            ThreePointArc((44.700791389, -9.2075), (44.9724534022, -8.1109756113), (45.0638038664, -6.985))
        make_face()
        with BuildLine():
            Line((44.45, -2.54), (44.45, 2.54))
            Line((44.45, 2.54), (43.466957539, 2.54))
            ThreePointArc((43.466957539, 2.54), (41.0572178739, 0.6668297744), (38.0788038664, 0))
            ThreePointArc((38.0788038664, 0), (41.0572178739, -0.6668297744), (43.466957539, -2.54))
            Line((43.466957539, -2.54), (44.45, -2.54))
        make_face()
        with BuildLine():
            ThreePointArc((13.3240484677, -2.54), (15.5642421362, -0.6703873372), (18.4040484677, 0))
            ThreePointArc((18.4040484677, 0), (15.5642421362, 0.6703873372), (13.3240484677, 2.54))
            Line((13.3240484677, 2.54), (4.7519048812, 2.54))
            ThreePointArc((4.7519048812, 2.54), (2.6940768363, 0.6748437524), (0, 0))
            ThreePointArc((0, 0), (2.6940768363, -0.6748437524), (4.7519048812, -2.54))
            Line((4.7519048812, -2.54), (13.3240484677, -2.54))
        make_face()
    extrude(amount=F1_DEPTH)


solid = f1.part
